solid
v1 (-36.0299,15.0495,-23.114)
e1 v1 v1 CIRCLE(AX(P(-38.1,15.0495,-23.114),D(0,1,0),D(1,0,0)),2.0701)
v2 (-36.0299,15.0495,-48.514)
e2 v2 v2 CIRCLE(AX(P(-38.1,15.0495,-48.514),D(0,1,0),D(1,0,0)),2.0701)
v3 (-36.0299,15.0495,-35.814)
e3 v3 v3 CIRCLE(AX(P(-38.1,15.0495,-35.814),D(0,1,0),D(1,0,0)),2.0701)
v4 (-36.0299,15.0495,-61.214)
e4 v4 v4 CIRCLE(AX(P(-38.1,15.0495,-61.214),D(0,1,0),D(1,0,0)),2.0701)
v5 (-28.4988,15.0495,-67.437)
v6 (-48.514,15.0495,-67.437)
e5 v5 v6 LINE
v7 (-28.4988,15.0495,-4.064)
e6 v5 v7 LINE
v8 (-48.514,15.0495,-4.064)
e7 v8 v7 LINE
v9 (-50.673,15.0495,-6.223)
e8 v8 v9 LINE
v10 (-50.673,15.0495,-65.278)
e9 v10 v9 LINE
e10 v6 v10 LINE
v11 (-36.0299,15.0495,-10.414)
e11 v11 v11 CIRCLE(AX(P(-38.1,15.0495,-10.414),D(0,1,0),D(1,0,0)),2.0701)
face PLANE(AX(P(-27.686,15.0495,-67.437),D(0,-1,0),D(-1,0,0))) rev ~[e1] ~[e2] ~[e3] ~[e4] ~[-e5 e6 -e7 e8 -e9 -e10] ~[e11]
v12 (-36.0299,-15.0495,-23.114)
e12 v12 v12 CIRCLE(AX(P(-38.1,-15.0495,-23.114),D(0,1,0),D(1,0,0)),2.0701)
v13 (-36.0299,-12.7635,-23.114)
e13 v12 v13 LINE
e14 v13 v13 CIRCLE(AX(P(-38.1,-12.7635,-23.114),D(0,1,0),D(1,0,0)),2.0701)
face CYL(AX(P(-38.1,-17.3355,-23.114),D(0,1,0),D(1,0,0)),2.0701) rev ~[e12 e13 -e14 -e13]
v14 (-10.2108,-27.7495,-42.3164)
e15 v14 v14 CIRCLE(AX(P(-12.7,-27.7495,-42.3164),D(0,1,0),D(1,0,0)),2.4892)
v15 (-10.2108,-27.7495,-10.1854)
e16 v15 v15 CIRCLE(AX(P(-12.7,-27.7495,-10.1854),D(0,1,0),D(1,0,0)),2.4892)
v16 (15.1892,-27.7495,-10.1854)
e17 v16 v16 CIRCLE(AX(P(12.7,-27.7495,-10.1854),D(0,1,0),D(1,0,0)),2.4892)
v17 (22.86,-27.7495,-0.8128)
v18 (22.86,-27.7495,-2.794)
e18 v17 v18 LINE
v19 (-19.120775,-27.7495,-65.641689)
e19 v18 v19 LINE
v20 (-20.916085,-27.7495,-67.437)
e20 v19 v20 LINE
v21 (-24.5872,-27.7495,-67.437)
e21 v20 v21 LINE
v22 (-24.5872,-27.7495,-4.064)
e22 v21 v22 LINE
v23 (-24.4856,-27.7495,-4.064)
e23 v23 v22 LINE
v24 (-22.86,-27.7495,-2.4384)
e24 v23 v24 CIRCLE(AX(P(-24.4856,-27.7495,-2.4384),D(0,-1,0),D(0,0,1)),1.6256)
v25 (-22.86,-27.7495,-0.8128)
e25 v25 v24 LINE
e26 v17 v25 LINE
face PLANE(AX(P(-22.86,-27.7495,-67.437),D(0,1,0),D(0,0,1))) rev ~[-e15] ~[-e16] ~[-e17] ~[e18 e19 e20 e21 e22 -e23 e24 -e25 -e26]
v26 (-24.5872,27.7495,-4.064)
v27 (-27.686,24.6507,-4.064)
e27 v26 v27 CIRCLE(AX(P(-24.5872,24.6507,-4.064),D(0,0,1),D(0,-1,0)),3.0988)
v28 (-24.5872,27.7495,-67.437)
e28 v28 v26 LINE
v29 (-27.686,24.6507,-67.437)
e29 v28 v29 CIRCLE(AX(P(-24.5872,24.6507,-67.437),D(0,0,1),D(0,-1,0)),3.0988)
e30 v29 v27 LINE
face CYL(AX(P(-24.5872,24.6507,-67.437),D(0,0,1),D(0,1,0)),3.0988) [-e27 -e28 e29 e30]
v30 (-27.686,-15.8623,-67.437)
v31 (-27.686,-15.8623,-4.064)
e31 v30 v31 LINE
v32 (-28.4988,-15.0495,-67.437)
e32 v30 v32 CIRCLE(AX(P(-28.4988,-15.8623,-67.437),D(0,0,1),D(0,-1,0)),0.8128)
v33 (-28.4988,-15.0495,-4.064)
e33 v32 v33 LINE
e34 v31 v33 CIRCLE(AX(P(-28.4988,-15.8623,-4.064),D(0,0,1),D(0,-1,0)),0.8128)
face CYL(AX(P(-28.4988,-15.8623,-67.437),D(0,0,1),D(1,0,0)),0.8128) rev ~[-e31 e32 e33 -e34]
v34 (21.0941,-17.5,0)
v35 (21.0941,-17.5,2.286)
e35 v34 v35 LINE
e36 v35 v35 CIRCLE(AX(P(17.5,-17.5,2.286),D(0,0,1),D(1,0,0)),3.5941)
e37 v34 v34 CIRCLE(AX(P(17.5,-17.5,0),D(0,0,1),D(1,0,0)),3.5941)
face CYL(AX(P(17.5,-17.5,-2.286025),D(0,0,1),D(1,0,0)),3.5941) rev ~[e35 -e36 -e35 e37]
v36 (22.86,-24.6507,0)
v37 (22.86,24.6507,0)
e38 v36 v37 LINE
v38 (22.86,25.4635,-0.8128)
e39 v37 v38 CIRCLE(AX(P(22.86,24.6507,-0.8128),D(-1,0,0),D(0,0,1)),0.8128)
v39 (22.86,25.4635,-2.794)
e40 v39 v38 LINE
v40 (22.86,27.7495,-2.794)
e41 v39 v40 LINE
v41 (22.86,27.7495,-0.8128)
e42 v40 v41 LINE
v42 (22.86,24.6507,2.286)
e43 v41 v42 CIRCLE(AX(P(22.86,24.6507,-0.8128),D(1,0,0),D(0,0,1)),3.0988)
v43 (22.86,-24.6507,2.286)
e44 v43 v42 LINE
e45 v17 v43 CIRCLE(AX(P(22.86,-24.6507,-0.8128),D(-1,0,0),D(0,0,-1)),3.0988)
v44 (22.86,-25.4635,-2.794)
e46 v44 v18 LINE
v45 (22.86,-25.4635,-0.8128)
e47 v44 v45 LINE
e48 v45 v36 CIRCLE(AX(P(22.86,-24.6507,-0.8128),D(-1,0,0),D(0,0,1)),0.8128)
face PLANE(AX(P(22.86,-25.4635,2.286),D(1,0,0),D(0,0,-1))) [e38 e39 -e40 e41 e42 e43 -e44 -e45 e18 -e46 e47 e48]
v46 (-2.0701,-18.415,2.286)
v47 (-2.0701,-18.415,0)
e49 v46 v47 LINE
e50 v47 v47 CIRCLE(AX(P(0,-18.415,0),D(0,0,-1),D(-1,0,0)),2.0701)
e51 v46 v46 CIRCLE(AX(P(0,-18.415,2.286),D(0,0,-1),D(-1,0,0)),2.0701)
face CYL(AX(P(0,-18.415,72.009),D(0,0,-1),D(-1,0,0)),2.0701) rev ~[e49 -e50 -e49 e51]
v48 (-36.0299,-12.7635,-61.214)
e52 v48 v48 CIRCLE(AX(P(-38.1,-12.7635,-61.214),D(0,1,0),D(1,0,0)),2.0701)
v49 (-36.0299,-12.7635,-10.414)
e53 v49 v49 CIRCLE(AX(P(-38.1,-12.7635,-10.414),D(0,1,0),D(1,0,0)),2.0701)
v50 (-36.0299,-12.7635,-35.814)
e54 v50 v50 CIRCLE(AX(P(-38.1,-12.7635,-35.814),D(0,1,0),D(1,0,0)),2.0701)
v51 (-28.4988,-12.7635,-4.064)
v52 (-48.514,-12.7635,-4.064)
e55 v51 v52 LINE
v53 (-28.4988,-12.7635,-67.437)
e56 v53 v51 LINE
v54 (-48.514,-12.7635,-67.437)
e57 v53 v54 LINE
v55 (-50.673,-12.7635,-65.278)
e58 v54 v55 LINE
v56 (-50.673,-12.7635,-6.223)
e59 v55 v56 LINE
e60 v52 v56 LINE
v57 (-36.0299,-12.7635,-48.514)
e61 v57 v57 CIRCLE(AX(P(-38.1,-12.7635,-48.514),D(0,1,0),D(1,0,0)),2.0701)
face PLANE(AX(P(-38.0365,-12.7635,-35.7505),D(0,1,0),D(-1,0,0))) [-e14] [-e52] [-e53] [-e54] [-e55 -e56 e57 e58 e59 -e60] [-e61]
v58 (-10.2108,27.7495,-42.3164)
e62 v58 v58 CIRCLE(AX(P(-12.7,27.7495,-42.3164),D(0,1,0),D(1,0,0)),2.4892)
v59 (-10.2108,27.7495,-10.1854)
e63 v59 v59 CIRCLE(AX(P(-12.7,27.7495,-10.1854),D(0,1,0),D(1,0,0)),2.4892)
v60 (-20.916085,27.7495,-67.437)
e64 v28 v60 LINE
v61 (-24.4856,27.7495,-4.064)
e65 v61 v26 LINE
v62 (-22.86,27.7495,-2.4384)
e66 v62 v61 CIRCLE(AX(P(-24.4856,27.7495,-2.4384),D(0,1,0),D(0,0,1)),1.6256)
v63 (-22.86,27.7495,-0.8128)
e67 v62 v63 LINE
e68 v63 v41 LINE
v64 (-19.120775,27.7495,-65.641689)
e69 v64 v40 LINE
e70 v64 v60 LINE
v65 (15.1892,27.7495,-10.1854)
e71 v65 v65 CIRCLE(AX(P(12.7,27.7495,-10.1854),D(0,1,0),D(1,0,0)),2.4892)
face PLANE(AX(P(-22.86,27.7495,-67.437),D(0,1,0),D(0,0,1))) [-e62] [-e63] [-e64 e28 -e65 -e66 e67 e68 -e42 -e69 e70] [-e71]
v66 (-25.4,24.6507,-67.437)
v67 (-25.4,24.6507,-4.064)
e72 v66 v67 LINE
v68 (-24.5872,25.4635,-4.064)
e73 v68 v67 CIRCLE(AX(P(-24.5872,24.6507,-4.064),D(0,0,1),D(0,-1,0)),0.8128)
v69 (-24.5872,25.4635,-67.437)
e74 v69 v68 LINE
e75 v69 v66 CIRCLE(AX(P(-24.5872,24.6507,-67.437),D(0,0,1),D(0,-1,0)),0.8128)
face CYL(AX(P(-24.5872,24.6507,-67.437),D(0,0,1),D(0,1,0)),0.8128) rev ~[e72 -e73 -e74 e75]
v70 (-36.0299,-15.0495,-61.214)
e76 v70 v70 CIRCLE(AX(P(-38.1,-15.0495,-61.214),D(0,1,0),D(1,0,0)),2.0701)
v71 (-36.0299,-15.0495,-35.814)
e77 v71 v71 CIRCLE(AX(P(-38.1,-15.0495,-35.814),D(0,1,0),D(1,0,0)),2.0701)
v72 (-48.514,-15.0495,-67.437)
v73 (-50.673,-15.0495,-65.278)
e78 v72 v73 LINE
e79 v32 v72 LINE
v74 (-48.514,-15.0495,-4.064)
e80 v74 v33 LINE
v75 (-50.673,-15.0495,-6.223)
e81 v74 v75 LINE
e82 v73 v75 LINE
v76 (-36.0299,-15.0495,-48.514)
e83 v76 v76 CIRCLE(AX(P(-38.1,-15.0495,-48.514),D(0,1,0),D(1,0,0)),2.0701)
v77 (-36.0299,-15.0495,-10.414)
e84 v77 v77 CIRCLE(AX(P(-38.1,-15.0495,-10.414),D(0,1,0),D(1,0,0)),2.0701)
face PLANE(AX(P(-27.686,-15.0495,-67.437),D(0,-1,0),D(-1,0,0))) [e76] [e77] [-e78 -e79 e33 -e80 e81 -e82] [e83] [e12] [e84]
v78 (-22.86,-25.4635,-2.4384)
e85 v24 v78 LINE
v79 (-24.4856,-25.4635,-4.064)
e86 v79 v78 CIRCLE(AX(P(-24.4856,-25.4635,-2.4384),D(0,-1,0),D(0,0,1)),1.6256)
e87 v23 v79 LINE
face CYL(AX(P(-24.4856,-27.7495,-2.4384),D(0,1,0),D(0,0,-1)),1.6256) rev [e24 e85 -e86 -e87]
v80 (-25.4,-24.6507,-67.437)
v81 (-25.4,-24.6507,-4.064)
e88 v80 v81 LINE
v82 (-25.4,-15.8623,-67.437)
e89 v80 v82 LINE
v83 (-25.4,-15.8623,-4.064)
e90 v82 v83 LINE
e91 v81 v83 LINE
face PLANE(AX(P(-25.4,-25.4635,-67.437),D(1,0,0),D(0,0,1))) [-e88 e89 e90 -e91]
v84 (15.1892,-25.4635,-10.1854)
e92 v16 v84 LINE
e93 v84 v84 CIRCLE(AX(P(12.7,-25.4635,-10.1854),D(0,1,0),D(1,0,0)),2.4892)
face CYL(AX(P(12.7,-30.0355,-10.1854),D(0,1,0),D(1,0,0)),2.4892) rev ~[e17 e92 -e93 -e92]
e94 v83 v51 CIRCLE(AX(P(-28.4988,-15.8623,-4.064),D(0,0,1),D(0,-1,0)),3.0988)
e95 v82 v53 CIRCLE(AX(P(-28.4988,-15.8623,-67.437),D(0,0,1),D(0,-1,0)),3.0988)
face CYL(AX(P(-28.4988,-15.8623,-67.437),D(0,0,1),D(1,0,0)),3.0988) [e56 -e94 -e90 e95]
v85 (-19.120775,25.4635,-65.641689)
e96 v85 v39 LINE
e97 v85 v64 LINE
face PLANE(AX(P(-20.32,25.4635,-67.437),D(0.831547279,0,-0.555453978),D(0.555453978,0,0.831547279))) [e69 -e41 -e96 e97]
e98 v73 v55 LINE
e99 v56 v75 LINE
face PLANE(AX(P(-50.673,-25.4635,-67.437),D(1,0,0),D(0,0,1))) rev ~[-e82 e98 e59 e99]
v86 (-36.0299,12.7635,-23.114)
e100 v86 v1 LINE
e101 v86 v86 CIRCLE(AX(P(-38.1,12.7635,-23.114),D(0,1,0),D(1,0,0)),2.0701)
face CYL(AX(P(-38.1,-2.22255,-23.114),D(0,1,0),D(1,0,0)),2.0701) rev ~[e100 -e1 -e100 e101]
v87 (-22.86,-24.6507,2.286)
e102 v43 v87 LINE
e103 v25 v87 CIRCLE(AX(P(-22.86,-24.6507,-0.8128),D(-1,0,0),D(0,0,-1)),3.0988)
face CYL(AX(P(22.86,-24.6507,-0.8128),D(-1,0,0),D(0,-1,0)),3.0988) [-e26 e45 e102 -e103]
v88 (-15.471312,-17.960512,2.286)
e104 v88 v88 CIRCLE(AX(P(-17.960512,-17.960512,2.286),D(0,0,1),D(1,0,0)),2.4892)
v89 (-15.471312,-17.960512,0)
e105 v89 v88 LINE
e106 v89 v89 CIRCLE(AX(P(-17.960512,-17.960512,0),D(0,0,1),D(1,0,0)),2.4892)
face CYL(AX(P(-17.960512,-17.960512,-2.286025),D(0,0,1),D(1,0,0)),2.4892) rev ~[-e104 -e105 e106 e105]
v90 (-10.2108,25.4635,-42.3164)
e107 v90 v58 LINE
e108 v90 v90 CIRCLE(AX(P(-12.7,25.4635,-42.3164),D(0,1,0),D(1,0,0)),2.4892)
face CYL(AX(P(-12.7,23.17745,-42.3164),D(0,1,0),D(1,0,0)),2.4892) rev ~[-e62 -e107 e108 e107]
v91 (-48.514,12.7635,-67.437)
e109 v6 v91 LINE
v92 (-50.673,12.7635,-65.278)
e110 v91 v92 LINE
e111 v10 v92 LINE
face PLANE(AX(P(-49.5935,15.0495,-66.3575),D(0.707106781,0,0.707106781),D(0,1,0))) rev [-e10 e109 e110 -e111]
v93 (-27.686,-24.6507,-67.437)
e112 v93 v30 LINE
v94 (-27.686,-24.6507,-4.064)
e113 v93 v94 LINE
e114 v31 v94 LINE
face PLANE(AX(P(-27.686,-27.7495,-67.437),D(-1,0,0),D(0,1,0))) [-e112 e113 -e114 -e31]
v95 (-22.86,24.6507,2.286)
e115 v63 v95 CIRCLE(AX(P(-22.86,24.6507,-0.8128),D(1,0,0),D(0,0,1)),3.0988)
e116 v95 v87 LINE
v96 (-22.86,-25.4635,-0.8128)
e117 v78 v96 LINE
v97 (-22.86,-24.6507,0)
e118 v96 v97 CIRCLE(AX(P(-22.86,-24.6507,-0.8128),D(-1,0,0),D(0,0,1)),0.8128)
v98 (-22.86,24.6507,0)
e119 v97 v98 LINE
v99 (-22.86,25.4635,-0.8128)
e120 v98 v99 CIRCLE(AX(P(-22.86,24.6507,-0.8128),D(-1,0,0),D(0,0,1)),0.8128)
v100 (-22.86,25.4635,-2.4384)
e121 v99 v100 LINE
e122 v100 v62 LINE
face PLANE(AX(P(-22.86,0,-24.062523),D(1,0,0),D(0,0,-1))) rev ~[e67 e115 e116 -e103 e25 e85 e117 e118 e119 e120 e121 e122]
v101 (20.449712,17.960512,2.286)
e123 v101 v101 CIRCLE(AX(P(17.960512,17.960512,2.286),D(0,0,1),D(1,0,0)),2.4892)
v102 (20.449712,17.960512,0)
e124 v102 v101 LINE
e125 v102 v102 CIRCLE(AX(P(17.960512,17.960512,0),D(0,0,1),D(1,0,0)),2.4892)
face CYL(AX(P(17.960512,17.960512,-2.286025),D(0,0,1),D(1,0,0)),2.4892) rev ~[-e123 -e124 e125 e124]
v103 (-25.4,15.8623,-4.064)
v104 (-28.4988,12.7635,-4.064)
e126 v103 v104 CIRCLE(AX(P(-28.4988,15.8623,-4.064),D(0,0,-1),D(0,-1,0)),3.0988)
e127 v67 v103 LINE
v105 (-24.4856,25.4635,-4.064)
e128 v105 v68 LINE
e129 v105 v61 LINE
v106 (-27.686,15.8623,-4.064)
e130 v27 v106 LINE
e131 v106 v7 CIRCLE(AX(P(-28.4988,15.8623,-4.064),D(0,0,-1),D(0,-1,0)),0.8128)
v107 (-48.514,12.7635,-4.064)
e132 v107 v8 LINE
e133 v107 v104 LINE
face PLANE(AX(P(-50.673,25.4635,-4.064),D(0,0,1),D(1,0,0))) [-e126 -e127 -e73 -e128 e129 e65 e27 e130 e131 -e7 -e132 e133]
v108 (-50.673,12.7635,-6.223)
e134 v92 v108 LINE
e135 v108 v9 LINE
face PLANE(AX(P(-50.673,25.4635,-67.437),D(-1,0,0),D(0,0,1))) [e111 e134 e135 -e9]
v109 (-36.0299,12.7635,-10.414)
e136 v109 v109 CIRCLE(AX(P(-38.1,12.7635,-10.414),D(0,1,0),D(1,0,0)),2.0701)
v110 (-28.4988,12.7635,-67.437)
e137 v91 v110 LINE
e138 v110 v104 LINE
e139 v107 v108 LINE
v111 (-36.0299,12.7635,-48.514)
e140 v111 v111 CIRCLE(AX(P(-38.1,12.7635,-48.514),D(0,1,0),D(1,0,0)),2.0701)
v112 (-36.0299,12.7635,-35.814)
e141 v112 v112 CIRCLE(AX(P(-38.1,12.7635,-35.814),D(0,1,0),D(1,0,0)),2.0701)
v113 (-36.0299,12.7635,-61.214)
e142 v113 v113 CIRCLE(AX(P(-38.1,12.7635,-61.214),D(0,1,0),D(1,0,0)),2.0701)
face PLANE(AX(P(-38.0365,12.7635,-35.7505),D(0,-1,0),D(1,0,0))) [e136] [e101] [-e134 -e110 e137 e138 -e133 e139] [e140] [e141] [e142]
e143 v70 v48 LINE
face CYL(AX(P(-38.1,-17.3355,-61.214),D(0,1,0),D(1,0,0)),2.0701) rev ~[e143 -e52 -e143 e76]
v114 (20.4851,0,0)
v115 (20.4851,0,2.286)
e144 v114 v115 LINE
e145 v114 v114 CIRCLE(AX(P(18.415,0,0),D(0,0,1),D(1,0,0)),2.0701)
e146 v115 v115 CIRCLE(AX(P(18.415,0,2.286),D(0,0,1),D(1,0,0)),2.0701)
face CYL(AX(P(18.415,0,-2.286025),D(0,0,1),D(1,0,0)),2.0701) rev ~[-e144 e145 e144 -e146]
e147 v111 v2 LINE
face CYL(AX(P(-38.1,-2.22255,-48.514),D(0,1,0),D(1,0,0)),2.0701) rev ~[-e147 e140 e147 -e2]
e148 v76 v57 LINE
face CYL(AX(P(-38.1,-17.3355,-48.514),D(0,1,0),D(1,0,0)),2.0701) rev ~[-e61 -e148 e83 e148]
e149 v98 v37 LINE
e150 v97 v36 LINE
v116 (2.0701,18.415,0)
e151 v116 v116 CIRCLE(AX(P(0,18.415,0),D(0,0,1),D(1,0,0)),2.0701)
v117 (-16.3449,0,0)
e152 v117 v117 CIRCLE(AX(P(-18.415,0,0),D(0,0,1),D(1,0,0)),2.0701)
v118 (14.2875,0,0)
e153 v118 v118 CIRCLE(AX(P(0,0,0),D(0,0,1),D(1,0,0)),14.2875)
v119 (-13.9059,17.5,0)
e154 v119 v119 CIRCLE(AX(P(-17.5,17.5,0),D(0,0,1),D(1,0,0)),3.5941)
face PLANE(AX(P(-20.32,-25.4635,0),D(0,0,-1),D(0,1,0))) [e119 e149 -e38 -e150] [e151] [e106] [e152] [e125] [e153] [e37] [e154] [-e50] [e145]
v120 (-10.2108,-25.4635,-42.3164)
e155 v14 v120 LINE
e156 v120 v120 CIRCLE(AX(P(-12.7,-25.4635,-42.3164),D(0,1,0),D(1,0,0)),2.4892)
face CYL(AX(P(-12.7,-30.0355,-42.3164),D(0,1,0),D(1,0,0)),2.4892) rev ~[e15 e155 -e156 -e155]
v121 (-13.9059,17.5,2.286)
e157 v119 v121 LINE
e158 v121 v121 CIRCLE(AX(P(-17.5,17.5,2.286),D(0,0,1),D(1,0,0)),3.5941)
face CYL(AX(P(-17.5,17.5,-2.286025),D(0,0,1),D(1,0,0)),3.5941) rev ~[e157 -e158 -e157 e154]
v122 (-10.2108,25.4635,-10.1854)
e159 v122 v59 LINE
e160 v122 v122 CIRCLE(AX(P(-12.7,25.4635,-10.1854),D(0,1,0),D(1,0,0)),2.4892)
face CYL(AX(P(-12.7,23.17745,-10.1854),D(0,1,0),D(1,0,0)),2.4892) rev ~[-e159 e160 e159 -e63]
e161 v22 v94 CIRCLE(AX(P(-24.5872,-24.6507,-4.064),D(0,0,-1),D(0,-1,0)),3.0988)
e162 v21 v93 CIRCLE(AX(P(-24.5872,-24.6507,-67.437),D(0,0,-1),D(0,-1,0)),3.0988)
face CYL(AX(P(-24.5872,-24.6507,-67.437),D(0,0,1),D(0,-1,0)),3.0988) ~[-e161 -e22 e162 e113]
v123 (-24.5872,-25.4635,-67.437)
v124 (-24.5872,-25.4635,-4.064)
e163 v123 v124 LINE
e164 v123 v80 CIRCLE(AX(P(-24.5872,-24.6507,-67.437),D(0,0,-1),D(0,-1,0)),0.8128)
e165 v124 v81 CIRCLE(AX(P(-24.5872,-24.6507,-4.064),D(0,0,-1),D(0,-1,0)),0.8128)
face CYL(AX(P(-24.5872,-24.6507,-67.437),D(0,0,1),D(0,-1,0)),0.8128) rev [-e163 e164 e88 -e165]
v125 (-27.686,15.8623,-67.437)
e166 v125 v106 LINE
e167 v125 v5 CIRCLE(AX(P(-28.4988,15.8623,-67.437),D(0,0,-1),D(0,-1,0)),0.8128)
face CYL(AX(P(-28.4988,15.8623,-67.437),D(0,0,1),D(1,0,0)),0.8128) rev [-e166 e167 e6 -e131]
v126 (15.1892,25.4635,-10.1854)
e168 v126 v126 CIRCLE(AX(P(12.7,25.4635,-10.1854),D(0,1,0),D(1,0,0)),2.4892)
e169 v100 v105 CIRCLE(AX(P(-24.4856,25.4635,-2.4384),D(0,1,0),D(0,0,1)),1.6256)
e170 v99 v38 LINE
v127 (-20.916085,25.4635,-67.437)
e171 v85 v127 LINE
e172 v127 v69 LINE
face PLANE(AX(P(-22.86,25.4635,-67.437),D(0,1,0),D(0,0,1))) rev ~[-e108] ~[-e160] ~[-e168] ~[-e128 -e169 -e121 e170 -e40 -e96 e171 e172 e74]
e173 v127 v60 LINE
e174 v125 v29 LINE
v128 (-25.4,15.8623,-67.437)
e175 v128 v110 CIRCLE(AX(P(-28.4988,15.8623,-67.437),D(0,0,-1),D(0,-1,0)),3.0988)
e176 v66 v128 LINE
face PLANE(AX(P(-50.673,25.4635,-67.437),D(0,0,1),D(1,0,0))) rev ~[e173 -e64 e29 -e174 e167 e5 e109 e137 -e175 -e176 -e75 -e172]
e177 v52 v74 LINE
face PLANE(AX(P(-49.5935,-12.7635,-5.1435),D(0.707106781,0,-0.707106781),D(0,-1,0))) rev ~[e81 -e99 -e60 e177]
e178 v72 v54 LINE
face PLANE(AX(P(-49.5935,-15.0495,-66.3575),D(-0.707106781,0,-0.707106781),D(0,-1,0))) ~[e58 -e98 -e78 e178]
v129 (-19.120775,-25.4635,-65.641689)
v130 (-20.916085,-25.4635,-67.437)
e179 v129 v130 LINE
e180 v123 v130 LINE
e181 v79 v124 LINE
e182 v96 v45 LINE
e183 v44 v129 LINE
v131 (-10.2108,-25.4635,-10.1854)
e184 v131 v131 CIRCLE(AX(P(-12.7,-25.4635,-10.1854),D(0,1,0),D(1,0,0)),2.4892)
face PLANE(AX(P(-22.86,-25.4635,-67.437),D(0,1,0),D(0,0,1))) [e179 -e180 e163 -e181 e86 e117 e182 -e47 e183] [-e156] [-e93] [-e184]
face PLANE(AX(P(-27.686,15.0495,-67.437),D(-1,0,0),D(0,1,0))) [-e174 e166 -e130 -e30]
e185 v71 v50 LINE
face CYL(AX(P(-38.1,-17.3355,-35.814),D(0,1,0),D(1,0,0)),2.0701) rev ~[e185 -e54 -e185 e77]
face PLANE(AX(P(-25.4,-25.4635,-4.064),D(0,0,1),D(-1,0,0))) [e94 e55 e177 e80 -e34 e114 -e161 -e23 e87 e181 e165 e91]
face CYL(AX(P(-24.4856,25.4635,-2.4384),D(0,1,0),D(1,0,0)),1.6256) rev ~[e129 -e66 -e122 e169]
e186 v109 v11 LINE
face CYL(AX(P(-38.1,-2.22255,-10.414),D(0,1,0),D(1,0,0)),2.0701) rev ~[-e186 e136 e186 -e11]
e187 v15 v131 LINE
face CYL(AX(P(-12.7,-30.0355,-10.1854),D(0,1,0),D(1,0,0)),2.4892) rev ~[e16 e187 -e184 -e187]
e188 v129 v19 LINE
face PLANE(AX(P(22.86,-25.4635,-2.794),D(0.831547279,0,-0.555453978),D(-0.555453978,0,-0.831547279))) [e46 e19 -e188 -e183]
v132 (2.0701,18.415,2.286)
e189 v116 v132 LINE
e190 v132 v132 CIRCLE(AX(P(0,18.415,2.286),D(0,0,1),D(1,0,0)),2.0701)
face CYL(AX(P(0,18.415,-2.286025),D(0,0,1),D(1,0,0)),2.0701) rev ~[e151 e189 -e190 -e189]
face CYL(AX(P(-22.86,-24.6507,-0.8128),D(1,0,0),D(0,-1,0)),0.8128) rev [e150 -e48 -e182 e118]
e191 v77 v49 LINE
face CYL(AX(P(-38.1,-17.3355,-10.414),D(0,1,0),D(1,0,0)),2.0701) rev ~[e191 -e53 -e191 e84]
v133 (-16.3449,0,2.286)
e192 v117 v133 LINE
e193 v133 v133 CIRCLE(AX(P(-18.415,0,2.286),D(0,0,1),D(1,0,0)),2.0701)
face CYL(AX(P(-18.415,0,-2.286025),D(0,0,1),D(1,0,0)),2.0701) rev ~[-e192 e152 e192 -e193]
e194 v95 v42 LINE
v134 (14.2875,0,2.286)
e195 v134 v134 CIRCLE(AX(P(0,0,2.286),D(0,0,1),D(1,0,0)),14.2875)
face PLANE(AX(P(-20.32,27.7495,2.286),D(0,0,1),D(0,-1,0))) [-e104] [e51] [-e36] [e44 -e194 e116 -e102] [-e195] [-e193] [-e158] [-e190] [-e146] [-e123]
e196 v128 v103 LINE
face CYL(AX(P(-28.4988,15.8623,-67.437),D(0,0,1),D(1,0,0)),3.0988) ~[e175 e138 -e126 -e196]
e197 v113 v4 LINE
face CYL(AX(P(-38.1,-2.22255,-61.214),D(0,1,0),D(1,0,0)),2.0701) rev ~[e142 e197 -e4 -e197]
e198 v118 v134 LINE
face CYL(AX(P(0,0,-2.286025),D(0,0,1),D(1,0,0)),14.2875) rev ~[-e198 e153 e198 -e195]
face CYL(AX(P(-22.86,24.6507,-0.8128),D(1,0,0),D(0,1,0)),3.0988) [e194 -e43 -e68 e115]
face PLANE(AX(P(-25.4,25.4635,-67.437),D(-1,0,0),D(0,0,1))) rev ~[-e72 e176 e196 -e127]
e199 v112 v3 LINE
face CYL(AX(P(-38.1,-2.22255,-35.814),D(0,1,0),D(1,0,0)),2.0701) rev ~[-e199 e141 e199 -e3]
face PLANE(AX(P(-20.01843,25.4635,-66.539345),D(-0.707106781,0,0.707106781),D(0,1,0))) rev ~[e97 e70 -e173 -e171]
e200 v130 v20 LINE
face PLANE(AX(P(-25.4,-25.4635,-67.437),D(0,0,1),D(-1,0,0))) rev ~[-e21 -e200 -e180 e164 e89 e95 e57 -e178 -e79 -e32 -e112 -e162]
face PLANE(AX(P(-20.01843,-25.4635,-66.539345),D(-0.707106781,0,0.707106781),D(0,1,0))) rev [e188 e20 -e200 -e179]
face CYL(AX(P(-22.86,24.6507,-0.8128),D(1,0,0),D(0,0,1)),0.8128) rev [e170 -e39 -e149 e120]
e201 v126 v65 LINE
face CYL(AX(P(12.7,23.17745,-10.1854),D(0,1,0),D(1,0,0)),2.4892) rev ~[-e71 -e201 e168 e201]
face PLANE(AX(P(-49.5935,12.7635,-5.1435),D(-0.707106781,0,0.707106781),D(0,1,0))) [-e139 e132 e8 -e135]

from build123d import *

# Parameters (mm, degrees)
SKETCH1_W                  = 43.18
SKETCH1_H                  = 50.927
BOSS_EXTRUDE1_DEPTH        = 5.08
BOSS_EXTRUDE2_DEPTH        = 2.286
BOSS_EXTRUDE3_DEPTH        = 2.286
SKETCH4_W                  = 43.18
SKETCH4_H                  = 50.927
CUT_EXTRUDE1_DEPTH         = 2.794
BOSS_EXTRUDE4_DEPTH        = 2.54
SKETCH6_W                  = 63.373
SKETCH6_H                  = 2.286
BOSS_EXTRUDE5_DEPTH        = 27.813
SKETCH7_W                  = 25.273
SKETCH7_H                  = 63.373
BOSS_EXTRUDE6_DEPTH        = 12.7
SKETCH8_W                  = 63.373
SKETCH8_H                  = 2.286
BOSS_EXTRUDE7_DEPTH        = 27.813
SKETCH9_W                  = 25.273
SKETCH9_H                  = 63.373
BOSS_EXTRUDE8_DEPTH        = 12.7
SKETCH10_W                 = 22.987
SKETCH10_H                 = 12.7
CUT_EXTRUDE2_DEPTH         = 70.723
SKETCH11_W                 = 22.987
SKETCH11_H                 = 12.7
CUT_EXTRUDE3_DEPTH         = 70.723
HOLE1_D                    = 4.9784
HOLE1_DEPTH                = 2.286
M3_5_CLEARANCE_HOLE1_D     = 4.1402
M3_5_CLEARANCE_HOLE1_DEPTH = 69.723
M3_5_CLEARANCE_HOLE2_D     = 4.1402
M3_5_CLEARANCE_HOLE2_DEPTH = 2.286025
M25_CLEARANCE_HOLE1_D      = 28.575
M25_CLEARANCE_HOLE1_DEPTH  = 2.286025
M6_5_CLEARANCE_HOLE1_D     = 7.1882
M6_5_CLEARANCE_HOLE1_DEPTH = 2.286025
HOLE2_D                    = 4.9784
HOLE2_DEPTH                = 2.286025
M3_5_CLEARANCE_HOLE3_D     = 4.1402
M3_5_CLEARANCE_HOLE3_DEPTH = 2.286
HOLE3_D                    = 4.9784
HOLE3_DEPTH                = 2.28605
M3_5_CLEARANCE_HOLE4_D     = 4.1402
M3_5_CLEARANCE_HOLE4_DEPTH = 14.98605
CHAMFER1_SIZE2             = 0.596085437
CHAMFER1_SIZE              = 2.159
CHAMFER2_SIZE              = 2.159
CHAMFER3_SIZE              = 2.159
CHAMFER3_SIZE2             = 0.596085437
FILLET1_R                  = 0.8128
FILLET2_R                  = 1.6256
FILLET3_R                  = 3.0988


with BuildPart() as part:
    # Sketch1 → Boss-Extrude1 (new body)
    with BuildSketch(Plane.XY.offset(2.286)):
        with Locations((1.27, 0)):
            Rectangle(SKETCH1_W, SKETCH1_H)
    extrude(amount=-BOSS_EXTRUDE1_DEPTH)

    # Sketch2 → Boss-Extrude2 (add)
    with BuildSketch(Plane(origin=(0, 25.4635, 0), x_dir=(-1, 0, 0), z_dir=(0, 1, 0))):
        Polygon((20.32, 2.286), (20.32, -67.437), (-22.86, -2.794), (-22.86, 2.286), align=None)
    extrude(amount=BOSS_EXTRUDE2_DEPTH)

    # Sketch3 → Boss-Extrude3 (add)
    with BuildSketch(Plane.XZ.offset(25.4635)):
        Polygon((-20.32, -67.437), (-20.32, 2.286), (22.86, 2.286), (22.86, -2.794), align=None)
    extrude(amount=BOSS_EXTRUDE3_DEPTH)

    # Sketch4 → Cut-Extrude1 (cut)
    with BuildSketch(Plane(origin=(0, 0, -2.794), x_dir=(-1, 0, 0), z_dir=(0, 0, -1))):
        with Locations((-1.27, 0)):
            Rectangle(SKETCH4_W, SKETCH4_H)
    extrude(amount=-CUT_EXTRUDE1_DEPTH, mode=Mode.SUBTRACT)

    # Sketch5 → Boss-Extrude4 (add)
    with BuildSketch(Plane.ZY.offset(20.32)):
        Polygon((-67.437, -25.4635), (0, -25.4635), (0, 25.4635), (-67.437, 25.4635), (-67.437, 27.7495), (2.286, 27.7495), (2.286, -27.7495), (-67.437, -27.7495), align=None)
    extrude(amount=BOSS_EXTRUDE4_DEPTH)

    # Sketch6 → Boss-Extrude5 (add)
    with BuildSketch(Plane.ZY.offset(22.86)):
        with Locations((-35.7505, 26.6065)):
            Rectangle(SKETCH6_W, SKETCH6_H)
    extrude(amount=BOSS_EXTRUDE5_DEPTH)

    # Sketch7 → Boss-Extrude6 (add)
    with BuildSketch(Plane.XZ.offset(-25.4635)):
        with Locations((-38.0365, -35.7505)):
            Rectangle(SKETCH7_W, SKETCH7_H)
    extrude(amount=BOSS_EXTRUDE6_DEPTH)

    # Sketch8 → Boss-Extrude7 (add)
    with BuildSketch(Plane.ZY.offset(22.86)):
        with Locations((-35.7505, -26.6065)):
            Rectangle(SKETCH8_W, SKETCH8_H)
    extrude(amount=BOSS_EXTRUDE7_DEPTH)

    # Sketch9 → Boss-Extrude8 (add)
    with BuildSketch(Plane(origin=(0, -25.4635, 0), x_dir=(-1, 0, 0), z_dir=(0, 1, 0))):
        with Locations((38.0365, -35.7505)):
            Rectangle(SKETCH9_W, SKETCH9_H)
    extrude(amount=BOSS_EXTRUDE8_DEPTH)

    # Sketch10 → Cut-Extrude2 (cut, through all)
    with BuildSketch(Plane(origin=(0, 0, -67.437), x_dir=(-1, 0, 0), z_dir=(0, 0, -1))):
        with Locations((39.1795, 21.3995)):
            Rectangle(SKETCH10_W, SKETCH10_H)
    extrude(amount=-CUT_EXTRUDE2_DEPTH, mode=Mode.SUBTRACT)

    # Sketch11 → Cut-Extrude3 (cut, through all)
    with BuildSketch(Plane(origin=(0, 0, -67.437), x_dir=(-1, 0, 0), z_dir=(0, 0, -1))):
        with Locations((39.1795, -21.3995)):
            Rectangle(SKETCH11_W, SKETCH11_H)
    extrude(amount=-CUT_EXTRUDE3_DEPTH, mode=Mode.SUBTRACT)

    # Hole1
    with Locations(Plane(origin=(0, -27.7495, 0), x_dir=(-1, 0, 0), z_dir=(0, -1, 0))):
        with Locations((12.7, 10.1854), (-12.7, 10.1854), (12.7, 42.3164)):
            Hole(HOLE1_D / 2, depth=HOLE1_DEPTH)

    # M3.5 Clearance Hole1
    with Locations(Plane.XY.offset(2.286)):
        with Locations((0, -18.415)):
            Hole(M3_5_CLEARANCE_HOLE1_D / 2, depth=M3_5_CLEARANCE_HOLE1_DEPTH)

    # M3.5 Clearance Hole2
    with Locations(Plane(origin=(0, 0, 0), x_dir=(-1, 0, 0), z_dir=(0, 0, -1))):
        with Locations((-18.415, 0), (18.415, 0), (0, 18.415)):
            Hole(M3_5_CLEARANCE_HOLE2_D / 2, depth=M3_5_CLEARANCE_HOLE2_DEPTH)

    # M25 Clearance Hole1
    with Locations(Plane(origin=(0, 0, 0), x_dir=(-1, 0, 0), z_dir=(0, 0, -1))):
        with Locations((0, 0)):
            Hole(M25_CLEARANCE_HOLE1_D / 2, depth=M25_CLEARANCE_HOLE1_DEPTH)

    # M6.5 Clearance Hole1
    with Locations(Plane(origin=(0, 0, 0), x_dir=(-1, 0, 0), z_dir=(0, 0, -1))):
        with Locations((17.5, 17.5), (-17.5, -17.5)):
            Hole(M6_5_CLEARANCE_HOLE1_D / 2, depth=M6_5_CLEARANCE_HOLE1_DEPTH)

    # Hole2
    with Locations(Plane(origin=(0, 0, 0), x_dir=(-1, 0, 0), z_dir=(0, 0, -1))):
        with Locations((17.960512242, -17.960512242), (-17.960512242, 17.960512242)):
            Hole(HOLE2_D / 2, depth=HOLE2_DEPTH)

    # M3.5 Clearance Hole3
    with Locations(Plane(origin=(0, -15.0495, 0), x_dir=(-1, 0, 0), z_dir=(0, -1, 0))):
        with Locations((38.1, 61.214), (38.1, 48.514), (38.1, 35.814), (38.1, 23.114), (38.1, 10.414)):
            Hole(M3_5_CLEARANCE_HOLE3_D / 2, depth=M3_5_CLEARANCE_HOLE3_DEPTH)

    # Hole3
    with Locations(Plane(origin=(0, 25.4635, 0), x_dir=(-1, 0, 0), z_dir=(0, -1, 0))):
        with Locations((12.7, 10.1854), (-12.7, 10.1854), (12.7, 42.3164)):
            Hole(HOLE3_D / 2, depth=HOLE3_DEPTH)

    # M3.5 Clearance Hole4
    with Locations(Plane(origin=(0, 12.7635, 0), x_dir=(-1, 0, 0), z_dir=(0, -1, 0))):
        with Locations((38.1, 61.214), (38.1, 48.514), (38.1, 35.814), (38.1, 23.114), (38.1, 10.414)):
            Hole(M3_5_CLEARANCE_HOLE4_D / 2, depth=M3_5_CLEARANCE_HOLE4_DEPTH)

    # Chamfer1
    chamfer1_edges = [part.edges().sort_by_distance(p)[0] for p in [
        (-20.32, 26.6065, -67.437),
    ]]
    chamfer(chamfer1_edges, length=CHAMFER1_SIZE, length2=CHAMFER1_SIZE2)

    # Chamfer2
    chamfer2_edges = [part.edges().sort_by_distance(p)[0] for p in [
        (-50.673, -13.9065, -67.437),
        (-50.673, 13.9065, -67.437),
        (-50.673, -13.9065, -4.064),
        (-50.673, 13.9065, -4.064),
    ]]
    chamfer(chamfer2_edges, length=CHAMFER2_SIZE)

    # Chamfer3
    chamfer3_edges = [part.edges().sort_by_distance(p)[0] for p in [
        (-20.32, -26.6065, -67.437),
    ]]
    chamfer3_side = [part.faces().sort_by_distance(p)[0] for p in [
        (1.27, -26.6065, -35.1155),
    ]]
    chamfer(chamfer3_edges, length=CHAMFER3_SIZE, length2=CHAMFER3_SIZE2, reference=chamfer3_side[0])

    # Fillet1
    fillet1_edges = [part.edges().sort_by_distance(p)[0] for p in [
        (0, -25.4635, 0),
        (-25.4, 25.4635, -35.7505),
        (-25.4, -25.4635, -35.7505),
        (-27.686, -15.0495, -35.7505),
        (-27.686, 15.0495, -35.7505),
        (0, 25.4635, 0),
    ]]
    fillet(fillet1_edges, radius=FILLET1_R)

    # Fillet2
    fillet2_edges = [part.edges().sort_by_distance(p)[0] for p in [
        (-22.86, -26.6065, -4.064),
        (-22.86, 26.6065, -4.064),
    ]]
    fillet(fillet2_edges, radius=FILLET2_R)

    # Fillet3
    fillet3_edges = [part.edges().sort_by_distance(p)[0] for p in [
        (0, 27.7495, 2.286),
        (-27.686, -27.7495, -35.7505),
        (0, -27.7495, 2.286),
        (-25.4, 12.7635, -35.7505),
        (-25.4, -12.7635, -35.7505),
        (-27.686, 27.7495, -35.7505),
    ]]
    fillet(fillet3_edges, radius=FILLET3_R)


solid = part.part
